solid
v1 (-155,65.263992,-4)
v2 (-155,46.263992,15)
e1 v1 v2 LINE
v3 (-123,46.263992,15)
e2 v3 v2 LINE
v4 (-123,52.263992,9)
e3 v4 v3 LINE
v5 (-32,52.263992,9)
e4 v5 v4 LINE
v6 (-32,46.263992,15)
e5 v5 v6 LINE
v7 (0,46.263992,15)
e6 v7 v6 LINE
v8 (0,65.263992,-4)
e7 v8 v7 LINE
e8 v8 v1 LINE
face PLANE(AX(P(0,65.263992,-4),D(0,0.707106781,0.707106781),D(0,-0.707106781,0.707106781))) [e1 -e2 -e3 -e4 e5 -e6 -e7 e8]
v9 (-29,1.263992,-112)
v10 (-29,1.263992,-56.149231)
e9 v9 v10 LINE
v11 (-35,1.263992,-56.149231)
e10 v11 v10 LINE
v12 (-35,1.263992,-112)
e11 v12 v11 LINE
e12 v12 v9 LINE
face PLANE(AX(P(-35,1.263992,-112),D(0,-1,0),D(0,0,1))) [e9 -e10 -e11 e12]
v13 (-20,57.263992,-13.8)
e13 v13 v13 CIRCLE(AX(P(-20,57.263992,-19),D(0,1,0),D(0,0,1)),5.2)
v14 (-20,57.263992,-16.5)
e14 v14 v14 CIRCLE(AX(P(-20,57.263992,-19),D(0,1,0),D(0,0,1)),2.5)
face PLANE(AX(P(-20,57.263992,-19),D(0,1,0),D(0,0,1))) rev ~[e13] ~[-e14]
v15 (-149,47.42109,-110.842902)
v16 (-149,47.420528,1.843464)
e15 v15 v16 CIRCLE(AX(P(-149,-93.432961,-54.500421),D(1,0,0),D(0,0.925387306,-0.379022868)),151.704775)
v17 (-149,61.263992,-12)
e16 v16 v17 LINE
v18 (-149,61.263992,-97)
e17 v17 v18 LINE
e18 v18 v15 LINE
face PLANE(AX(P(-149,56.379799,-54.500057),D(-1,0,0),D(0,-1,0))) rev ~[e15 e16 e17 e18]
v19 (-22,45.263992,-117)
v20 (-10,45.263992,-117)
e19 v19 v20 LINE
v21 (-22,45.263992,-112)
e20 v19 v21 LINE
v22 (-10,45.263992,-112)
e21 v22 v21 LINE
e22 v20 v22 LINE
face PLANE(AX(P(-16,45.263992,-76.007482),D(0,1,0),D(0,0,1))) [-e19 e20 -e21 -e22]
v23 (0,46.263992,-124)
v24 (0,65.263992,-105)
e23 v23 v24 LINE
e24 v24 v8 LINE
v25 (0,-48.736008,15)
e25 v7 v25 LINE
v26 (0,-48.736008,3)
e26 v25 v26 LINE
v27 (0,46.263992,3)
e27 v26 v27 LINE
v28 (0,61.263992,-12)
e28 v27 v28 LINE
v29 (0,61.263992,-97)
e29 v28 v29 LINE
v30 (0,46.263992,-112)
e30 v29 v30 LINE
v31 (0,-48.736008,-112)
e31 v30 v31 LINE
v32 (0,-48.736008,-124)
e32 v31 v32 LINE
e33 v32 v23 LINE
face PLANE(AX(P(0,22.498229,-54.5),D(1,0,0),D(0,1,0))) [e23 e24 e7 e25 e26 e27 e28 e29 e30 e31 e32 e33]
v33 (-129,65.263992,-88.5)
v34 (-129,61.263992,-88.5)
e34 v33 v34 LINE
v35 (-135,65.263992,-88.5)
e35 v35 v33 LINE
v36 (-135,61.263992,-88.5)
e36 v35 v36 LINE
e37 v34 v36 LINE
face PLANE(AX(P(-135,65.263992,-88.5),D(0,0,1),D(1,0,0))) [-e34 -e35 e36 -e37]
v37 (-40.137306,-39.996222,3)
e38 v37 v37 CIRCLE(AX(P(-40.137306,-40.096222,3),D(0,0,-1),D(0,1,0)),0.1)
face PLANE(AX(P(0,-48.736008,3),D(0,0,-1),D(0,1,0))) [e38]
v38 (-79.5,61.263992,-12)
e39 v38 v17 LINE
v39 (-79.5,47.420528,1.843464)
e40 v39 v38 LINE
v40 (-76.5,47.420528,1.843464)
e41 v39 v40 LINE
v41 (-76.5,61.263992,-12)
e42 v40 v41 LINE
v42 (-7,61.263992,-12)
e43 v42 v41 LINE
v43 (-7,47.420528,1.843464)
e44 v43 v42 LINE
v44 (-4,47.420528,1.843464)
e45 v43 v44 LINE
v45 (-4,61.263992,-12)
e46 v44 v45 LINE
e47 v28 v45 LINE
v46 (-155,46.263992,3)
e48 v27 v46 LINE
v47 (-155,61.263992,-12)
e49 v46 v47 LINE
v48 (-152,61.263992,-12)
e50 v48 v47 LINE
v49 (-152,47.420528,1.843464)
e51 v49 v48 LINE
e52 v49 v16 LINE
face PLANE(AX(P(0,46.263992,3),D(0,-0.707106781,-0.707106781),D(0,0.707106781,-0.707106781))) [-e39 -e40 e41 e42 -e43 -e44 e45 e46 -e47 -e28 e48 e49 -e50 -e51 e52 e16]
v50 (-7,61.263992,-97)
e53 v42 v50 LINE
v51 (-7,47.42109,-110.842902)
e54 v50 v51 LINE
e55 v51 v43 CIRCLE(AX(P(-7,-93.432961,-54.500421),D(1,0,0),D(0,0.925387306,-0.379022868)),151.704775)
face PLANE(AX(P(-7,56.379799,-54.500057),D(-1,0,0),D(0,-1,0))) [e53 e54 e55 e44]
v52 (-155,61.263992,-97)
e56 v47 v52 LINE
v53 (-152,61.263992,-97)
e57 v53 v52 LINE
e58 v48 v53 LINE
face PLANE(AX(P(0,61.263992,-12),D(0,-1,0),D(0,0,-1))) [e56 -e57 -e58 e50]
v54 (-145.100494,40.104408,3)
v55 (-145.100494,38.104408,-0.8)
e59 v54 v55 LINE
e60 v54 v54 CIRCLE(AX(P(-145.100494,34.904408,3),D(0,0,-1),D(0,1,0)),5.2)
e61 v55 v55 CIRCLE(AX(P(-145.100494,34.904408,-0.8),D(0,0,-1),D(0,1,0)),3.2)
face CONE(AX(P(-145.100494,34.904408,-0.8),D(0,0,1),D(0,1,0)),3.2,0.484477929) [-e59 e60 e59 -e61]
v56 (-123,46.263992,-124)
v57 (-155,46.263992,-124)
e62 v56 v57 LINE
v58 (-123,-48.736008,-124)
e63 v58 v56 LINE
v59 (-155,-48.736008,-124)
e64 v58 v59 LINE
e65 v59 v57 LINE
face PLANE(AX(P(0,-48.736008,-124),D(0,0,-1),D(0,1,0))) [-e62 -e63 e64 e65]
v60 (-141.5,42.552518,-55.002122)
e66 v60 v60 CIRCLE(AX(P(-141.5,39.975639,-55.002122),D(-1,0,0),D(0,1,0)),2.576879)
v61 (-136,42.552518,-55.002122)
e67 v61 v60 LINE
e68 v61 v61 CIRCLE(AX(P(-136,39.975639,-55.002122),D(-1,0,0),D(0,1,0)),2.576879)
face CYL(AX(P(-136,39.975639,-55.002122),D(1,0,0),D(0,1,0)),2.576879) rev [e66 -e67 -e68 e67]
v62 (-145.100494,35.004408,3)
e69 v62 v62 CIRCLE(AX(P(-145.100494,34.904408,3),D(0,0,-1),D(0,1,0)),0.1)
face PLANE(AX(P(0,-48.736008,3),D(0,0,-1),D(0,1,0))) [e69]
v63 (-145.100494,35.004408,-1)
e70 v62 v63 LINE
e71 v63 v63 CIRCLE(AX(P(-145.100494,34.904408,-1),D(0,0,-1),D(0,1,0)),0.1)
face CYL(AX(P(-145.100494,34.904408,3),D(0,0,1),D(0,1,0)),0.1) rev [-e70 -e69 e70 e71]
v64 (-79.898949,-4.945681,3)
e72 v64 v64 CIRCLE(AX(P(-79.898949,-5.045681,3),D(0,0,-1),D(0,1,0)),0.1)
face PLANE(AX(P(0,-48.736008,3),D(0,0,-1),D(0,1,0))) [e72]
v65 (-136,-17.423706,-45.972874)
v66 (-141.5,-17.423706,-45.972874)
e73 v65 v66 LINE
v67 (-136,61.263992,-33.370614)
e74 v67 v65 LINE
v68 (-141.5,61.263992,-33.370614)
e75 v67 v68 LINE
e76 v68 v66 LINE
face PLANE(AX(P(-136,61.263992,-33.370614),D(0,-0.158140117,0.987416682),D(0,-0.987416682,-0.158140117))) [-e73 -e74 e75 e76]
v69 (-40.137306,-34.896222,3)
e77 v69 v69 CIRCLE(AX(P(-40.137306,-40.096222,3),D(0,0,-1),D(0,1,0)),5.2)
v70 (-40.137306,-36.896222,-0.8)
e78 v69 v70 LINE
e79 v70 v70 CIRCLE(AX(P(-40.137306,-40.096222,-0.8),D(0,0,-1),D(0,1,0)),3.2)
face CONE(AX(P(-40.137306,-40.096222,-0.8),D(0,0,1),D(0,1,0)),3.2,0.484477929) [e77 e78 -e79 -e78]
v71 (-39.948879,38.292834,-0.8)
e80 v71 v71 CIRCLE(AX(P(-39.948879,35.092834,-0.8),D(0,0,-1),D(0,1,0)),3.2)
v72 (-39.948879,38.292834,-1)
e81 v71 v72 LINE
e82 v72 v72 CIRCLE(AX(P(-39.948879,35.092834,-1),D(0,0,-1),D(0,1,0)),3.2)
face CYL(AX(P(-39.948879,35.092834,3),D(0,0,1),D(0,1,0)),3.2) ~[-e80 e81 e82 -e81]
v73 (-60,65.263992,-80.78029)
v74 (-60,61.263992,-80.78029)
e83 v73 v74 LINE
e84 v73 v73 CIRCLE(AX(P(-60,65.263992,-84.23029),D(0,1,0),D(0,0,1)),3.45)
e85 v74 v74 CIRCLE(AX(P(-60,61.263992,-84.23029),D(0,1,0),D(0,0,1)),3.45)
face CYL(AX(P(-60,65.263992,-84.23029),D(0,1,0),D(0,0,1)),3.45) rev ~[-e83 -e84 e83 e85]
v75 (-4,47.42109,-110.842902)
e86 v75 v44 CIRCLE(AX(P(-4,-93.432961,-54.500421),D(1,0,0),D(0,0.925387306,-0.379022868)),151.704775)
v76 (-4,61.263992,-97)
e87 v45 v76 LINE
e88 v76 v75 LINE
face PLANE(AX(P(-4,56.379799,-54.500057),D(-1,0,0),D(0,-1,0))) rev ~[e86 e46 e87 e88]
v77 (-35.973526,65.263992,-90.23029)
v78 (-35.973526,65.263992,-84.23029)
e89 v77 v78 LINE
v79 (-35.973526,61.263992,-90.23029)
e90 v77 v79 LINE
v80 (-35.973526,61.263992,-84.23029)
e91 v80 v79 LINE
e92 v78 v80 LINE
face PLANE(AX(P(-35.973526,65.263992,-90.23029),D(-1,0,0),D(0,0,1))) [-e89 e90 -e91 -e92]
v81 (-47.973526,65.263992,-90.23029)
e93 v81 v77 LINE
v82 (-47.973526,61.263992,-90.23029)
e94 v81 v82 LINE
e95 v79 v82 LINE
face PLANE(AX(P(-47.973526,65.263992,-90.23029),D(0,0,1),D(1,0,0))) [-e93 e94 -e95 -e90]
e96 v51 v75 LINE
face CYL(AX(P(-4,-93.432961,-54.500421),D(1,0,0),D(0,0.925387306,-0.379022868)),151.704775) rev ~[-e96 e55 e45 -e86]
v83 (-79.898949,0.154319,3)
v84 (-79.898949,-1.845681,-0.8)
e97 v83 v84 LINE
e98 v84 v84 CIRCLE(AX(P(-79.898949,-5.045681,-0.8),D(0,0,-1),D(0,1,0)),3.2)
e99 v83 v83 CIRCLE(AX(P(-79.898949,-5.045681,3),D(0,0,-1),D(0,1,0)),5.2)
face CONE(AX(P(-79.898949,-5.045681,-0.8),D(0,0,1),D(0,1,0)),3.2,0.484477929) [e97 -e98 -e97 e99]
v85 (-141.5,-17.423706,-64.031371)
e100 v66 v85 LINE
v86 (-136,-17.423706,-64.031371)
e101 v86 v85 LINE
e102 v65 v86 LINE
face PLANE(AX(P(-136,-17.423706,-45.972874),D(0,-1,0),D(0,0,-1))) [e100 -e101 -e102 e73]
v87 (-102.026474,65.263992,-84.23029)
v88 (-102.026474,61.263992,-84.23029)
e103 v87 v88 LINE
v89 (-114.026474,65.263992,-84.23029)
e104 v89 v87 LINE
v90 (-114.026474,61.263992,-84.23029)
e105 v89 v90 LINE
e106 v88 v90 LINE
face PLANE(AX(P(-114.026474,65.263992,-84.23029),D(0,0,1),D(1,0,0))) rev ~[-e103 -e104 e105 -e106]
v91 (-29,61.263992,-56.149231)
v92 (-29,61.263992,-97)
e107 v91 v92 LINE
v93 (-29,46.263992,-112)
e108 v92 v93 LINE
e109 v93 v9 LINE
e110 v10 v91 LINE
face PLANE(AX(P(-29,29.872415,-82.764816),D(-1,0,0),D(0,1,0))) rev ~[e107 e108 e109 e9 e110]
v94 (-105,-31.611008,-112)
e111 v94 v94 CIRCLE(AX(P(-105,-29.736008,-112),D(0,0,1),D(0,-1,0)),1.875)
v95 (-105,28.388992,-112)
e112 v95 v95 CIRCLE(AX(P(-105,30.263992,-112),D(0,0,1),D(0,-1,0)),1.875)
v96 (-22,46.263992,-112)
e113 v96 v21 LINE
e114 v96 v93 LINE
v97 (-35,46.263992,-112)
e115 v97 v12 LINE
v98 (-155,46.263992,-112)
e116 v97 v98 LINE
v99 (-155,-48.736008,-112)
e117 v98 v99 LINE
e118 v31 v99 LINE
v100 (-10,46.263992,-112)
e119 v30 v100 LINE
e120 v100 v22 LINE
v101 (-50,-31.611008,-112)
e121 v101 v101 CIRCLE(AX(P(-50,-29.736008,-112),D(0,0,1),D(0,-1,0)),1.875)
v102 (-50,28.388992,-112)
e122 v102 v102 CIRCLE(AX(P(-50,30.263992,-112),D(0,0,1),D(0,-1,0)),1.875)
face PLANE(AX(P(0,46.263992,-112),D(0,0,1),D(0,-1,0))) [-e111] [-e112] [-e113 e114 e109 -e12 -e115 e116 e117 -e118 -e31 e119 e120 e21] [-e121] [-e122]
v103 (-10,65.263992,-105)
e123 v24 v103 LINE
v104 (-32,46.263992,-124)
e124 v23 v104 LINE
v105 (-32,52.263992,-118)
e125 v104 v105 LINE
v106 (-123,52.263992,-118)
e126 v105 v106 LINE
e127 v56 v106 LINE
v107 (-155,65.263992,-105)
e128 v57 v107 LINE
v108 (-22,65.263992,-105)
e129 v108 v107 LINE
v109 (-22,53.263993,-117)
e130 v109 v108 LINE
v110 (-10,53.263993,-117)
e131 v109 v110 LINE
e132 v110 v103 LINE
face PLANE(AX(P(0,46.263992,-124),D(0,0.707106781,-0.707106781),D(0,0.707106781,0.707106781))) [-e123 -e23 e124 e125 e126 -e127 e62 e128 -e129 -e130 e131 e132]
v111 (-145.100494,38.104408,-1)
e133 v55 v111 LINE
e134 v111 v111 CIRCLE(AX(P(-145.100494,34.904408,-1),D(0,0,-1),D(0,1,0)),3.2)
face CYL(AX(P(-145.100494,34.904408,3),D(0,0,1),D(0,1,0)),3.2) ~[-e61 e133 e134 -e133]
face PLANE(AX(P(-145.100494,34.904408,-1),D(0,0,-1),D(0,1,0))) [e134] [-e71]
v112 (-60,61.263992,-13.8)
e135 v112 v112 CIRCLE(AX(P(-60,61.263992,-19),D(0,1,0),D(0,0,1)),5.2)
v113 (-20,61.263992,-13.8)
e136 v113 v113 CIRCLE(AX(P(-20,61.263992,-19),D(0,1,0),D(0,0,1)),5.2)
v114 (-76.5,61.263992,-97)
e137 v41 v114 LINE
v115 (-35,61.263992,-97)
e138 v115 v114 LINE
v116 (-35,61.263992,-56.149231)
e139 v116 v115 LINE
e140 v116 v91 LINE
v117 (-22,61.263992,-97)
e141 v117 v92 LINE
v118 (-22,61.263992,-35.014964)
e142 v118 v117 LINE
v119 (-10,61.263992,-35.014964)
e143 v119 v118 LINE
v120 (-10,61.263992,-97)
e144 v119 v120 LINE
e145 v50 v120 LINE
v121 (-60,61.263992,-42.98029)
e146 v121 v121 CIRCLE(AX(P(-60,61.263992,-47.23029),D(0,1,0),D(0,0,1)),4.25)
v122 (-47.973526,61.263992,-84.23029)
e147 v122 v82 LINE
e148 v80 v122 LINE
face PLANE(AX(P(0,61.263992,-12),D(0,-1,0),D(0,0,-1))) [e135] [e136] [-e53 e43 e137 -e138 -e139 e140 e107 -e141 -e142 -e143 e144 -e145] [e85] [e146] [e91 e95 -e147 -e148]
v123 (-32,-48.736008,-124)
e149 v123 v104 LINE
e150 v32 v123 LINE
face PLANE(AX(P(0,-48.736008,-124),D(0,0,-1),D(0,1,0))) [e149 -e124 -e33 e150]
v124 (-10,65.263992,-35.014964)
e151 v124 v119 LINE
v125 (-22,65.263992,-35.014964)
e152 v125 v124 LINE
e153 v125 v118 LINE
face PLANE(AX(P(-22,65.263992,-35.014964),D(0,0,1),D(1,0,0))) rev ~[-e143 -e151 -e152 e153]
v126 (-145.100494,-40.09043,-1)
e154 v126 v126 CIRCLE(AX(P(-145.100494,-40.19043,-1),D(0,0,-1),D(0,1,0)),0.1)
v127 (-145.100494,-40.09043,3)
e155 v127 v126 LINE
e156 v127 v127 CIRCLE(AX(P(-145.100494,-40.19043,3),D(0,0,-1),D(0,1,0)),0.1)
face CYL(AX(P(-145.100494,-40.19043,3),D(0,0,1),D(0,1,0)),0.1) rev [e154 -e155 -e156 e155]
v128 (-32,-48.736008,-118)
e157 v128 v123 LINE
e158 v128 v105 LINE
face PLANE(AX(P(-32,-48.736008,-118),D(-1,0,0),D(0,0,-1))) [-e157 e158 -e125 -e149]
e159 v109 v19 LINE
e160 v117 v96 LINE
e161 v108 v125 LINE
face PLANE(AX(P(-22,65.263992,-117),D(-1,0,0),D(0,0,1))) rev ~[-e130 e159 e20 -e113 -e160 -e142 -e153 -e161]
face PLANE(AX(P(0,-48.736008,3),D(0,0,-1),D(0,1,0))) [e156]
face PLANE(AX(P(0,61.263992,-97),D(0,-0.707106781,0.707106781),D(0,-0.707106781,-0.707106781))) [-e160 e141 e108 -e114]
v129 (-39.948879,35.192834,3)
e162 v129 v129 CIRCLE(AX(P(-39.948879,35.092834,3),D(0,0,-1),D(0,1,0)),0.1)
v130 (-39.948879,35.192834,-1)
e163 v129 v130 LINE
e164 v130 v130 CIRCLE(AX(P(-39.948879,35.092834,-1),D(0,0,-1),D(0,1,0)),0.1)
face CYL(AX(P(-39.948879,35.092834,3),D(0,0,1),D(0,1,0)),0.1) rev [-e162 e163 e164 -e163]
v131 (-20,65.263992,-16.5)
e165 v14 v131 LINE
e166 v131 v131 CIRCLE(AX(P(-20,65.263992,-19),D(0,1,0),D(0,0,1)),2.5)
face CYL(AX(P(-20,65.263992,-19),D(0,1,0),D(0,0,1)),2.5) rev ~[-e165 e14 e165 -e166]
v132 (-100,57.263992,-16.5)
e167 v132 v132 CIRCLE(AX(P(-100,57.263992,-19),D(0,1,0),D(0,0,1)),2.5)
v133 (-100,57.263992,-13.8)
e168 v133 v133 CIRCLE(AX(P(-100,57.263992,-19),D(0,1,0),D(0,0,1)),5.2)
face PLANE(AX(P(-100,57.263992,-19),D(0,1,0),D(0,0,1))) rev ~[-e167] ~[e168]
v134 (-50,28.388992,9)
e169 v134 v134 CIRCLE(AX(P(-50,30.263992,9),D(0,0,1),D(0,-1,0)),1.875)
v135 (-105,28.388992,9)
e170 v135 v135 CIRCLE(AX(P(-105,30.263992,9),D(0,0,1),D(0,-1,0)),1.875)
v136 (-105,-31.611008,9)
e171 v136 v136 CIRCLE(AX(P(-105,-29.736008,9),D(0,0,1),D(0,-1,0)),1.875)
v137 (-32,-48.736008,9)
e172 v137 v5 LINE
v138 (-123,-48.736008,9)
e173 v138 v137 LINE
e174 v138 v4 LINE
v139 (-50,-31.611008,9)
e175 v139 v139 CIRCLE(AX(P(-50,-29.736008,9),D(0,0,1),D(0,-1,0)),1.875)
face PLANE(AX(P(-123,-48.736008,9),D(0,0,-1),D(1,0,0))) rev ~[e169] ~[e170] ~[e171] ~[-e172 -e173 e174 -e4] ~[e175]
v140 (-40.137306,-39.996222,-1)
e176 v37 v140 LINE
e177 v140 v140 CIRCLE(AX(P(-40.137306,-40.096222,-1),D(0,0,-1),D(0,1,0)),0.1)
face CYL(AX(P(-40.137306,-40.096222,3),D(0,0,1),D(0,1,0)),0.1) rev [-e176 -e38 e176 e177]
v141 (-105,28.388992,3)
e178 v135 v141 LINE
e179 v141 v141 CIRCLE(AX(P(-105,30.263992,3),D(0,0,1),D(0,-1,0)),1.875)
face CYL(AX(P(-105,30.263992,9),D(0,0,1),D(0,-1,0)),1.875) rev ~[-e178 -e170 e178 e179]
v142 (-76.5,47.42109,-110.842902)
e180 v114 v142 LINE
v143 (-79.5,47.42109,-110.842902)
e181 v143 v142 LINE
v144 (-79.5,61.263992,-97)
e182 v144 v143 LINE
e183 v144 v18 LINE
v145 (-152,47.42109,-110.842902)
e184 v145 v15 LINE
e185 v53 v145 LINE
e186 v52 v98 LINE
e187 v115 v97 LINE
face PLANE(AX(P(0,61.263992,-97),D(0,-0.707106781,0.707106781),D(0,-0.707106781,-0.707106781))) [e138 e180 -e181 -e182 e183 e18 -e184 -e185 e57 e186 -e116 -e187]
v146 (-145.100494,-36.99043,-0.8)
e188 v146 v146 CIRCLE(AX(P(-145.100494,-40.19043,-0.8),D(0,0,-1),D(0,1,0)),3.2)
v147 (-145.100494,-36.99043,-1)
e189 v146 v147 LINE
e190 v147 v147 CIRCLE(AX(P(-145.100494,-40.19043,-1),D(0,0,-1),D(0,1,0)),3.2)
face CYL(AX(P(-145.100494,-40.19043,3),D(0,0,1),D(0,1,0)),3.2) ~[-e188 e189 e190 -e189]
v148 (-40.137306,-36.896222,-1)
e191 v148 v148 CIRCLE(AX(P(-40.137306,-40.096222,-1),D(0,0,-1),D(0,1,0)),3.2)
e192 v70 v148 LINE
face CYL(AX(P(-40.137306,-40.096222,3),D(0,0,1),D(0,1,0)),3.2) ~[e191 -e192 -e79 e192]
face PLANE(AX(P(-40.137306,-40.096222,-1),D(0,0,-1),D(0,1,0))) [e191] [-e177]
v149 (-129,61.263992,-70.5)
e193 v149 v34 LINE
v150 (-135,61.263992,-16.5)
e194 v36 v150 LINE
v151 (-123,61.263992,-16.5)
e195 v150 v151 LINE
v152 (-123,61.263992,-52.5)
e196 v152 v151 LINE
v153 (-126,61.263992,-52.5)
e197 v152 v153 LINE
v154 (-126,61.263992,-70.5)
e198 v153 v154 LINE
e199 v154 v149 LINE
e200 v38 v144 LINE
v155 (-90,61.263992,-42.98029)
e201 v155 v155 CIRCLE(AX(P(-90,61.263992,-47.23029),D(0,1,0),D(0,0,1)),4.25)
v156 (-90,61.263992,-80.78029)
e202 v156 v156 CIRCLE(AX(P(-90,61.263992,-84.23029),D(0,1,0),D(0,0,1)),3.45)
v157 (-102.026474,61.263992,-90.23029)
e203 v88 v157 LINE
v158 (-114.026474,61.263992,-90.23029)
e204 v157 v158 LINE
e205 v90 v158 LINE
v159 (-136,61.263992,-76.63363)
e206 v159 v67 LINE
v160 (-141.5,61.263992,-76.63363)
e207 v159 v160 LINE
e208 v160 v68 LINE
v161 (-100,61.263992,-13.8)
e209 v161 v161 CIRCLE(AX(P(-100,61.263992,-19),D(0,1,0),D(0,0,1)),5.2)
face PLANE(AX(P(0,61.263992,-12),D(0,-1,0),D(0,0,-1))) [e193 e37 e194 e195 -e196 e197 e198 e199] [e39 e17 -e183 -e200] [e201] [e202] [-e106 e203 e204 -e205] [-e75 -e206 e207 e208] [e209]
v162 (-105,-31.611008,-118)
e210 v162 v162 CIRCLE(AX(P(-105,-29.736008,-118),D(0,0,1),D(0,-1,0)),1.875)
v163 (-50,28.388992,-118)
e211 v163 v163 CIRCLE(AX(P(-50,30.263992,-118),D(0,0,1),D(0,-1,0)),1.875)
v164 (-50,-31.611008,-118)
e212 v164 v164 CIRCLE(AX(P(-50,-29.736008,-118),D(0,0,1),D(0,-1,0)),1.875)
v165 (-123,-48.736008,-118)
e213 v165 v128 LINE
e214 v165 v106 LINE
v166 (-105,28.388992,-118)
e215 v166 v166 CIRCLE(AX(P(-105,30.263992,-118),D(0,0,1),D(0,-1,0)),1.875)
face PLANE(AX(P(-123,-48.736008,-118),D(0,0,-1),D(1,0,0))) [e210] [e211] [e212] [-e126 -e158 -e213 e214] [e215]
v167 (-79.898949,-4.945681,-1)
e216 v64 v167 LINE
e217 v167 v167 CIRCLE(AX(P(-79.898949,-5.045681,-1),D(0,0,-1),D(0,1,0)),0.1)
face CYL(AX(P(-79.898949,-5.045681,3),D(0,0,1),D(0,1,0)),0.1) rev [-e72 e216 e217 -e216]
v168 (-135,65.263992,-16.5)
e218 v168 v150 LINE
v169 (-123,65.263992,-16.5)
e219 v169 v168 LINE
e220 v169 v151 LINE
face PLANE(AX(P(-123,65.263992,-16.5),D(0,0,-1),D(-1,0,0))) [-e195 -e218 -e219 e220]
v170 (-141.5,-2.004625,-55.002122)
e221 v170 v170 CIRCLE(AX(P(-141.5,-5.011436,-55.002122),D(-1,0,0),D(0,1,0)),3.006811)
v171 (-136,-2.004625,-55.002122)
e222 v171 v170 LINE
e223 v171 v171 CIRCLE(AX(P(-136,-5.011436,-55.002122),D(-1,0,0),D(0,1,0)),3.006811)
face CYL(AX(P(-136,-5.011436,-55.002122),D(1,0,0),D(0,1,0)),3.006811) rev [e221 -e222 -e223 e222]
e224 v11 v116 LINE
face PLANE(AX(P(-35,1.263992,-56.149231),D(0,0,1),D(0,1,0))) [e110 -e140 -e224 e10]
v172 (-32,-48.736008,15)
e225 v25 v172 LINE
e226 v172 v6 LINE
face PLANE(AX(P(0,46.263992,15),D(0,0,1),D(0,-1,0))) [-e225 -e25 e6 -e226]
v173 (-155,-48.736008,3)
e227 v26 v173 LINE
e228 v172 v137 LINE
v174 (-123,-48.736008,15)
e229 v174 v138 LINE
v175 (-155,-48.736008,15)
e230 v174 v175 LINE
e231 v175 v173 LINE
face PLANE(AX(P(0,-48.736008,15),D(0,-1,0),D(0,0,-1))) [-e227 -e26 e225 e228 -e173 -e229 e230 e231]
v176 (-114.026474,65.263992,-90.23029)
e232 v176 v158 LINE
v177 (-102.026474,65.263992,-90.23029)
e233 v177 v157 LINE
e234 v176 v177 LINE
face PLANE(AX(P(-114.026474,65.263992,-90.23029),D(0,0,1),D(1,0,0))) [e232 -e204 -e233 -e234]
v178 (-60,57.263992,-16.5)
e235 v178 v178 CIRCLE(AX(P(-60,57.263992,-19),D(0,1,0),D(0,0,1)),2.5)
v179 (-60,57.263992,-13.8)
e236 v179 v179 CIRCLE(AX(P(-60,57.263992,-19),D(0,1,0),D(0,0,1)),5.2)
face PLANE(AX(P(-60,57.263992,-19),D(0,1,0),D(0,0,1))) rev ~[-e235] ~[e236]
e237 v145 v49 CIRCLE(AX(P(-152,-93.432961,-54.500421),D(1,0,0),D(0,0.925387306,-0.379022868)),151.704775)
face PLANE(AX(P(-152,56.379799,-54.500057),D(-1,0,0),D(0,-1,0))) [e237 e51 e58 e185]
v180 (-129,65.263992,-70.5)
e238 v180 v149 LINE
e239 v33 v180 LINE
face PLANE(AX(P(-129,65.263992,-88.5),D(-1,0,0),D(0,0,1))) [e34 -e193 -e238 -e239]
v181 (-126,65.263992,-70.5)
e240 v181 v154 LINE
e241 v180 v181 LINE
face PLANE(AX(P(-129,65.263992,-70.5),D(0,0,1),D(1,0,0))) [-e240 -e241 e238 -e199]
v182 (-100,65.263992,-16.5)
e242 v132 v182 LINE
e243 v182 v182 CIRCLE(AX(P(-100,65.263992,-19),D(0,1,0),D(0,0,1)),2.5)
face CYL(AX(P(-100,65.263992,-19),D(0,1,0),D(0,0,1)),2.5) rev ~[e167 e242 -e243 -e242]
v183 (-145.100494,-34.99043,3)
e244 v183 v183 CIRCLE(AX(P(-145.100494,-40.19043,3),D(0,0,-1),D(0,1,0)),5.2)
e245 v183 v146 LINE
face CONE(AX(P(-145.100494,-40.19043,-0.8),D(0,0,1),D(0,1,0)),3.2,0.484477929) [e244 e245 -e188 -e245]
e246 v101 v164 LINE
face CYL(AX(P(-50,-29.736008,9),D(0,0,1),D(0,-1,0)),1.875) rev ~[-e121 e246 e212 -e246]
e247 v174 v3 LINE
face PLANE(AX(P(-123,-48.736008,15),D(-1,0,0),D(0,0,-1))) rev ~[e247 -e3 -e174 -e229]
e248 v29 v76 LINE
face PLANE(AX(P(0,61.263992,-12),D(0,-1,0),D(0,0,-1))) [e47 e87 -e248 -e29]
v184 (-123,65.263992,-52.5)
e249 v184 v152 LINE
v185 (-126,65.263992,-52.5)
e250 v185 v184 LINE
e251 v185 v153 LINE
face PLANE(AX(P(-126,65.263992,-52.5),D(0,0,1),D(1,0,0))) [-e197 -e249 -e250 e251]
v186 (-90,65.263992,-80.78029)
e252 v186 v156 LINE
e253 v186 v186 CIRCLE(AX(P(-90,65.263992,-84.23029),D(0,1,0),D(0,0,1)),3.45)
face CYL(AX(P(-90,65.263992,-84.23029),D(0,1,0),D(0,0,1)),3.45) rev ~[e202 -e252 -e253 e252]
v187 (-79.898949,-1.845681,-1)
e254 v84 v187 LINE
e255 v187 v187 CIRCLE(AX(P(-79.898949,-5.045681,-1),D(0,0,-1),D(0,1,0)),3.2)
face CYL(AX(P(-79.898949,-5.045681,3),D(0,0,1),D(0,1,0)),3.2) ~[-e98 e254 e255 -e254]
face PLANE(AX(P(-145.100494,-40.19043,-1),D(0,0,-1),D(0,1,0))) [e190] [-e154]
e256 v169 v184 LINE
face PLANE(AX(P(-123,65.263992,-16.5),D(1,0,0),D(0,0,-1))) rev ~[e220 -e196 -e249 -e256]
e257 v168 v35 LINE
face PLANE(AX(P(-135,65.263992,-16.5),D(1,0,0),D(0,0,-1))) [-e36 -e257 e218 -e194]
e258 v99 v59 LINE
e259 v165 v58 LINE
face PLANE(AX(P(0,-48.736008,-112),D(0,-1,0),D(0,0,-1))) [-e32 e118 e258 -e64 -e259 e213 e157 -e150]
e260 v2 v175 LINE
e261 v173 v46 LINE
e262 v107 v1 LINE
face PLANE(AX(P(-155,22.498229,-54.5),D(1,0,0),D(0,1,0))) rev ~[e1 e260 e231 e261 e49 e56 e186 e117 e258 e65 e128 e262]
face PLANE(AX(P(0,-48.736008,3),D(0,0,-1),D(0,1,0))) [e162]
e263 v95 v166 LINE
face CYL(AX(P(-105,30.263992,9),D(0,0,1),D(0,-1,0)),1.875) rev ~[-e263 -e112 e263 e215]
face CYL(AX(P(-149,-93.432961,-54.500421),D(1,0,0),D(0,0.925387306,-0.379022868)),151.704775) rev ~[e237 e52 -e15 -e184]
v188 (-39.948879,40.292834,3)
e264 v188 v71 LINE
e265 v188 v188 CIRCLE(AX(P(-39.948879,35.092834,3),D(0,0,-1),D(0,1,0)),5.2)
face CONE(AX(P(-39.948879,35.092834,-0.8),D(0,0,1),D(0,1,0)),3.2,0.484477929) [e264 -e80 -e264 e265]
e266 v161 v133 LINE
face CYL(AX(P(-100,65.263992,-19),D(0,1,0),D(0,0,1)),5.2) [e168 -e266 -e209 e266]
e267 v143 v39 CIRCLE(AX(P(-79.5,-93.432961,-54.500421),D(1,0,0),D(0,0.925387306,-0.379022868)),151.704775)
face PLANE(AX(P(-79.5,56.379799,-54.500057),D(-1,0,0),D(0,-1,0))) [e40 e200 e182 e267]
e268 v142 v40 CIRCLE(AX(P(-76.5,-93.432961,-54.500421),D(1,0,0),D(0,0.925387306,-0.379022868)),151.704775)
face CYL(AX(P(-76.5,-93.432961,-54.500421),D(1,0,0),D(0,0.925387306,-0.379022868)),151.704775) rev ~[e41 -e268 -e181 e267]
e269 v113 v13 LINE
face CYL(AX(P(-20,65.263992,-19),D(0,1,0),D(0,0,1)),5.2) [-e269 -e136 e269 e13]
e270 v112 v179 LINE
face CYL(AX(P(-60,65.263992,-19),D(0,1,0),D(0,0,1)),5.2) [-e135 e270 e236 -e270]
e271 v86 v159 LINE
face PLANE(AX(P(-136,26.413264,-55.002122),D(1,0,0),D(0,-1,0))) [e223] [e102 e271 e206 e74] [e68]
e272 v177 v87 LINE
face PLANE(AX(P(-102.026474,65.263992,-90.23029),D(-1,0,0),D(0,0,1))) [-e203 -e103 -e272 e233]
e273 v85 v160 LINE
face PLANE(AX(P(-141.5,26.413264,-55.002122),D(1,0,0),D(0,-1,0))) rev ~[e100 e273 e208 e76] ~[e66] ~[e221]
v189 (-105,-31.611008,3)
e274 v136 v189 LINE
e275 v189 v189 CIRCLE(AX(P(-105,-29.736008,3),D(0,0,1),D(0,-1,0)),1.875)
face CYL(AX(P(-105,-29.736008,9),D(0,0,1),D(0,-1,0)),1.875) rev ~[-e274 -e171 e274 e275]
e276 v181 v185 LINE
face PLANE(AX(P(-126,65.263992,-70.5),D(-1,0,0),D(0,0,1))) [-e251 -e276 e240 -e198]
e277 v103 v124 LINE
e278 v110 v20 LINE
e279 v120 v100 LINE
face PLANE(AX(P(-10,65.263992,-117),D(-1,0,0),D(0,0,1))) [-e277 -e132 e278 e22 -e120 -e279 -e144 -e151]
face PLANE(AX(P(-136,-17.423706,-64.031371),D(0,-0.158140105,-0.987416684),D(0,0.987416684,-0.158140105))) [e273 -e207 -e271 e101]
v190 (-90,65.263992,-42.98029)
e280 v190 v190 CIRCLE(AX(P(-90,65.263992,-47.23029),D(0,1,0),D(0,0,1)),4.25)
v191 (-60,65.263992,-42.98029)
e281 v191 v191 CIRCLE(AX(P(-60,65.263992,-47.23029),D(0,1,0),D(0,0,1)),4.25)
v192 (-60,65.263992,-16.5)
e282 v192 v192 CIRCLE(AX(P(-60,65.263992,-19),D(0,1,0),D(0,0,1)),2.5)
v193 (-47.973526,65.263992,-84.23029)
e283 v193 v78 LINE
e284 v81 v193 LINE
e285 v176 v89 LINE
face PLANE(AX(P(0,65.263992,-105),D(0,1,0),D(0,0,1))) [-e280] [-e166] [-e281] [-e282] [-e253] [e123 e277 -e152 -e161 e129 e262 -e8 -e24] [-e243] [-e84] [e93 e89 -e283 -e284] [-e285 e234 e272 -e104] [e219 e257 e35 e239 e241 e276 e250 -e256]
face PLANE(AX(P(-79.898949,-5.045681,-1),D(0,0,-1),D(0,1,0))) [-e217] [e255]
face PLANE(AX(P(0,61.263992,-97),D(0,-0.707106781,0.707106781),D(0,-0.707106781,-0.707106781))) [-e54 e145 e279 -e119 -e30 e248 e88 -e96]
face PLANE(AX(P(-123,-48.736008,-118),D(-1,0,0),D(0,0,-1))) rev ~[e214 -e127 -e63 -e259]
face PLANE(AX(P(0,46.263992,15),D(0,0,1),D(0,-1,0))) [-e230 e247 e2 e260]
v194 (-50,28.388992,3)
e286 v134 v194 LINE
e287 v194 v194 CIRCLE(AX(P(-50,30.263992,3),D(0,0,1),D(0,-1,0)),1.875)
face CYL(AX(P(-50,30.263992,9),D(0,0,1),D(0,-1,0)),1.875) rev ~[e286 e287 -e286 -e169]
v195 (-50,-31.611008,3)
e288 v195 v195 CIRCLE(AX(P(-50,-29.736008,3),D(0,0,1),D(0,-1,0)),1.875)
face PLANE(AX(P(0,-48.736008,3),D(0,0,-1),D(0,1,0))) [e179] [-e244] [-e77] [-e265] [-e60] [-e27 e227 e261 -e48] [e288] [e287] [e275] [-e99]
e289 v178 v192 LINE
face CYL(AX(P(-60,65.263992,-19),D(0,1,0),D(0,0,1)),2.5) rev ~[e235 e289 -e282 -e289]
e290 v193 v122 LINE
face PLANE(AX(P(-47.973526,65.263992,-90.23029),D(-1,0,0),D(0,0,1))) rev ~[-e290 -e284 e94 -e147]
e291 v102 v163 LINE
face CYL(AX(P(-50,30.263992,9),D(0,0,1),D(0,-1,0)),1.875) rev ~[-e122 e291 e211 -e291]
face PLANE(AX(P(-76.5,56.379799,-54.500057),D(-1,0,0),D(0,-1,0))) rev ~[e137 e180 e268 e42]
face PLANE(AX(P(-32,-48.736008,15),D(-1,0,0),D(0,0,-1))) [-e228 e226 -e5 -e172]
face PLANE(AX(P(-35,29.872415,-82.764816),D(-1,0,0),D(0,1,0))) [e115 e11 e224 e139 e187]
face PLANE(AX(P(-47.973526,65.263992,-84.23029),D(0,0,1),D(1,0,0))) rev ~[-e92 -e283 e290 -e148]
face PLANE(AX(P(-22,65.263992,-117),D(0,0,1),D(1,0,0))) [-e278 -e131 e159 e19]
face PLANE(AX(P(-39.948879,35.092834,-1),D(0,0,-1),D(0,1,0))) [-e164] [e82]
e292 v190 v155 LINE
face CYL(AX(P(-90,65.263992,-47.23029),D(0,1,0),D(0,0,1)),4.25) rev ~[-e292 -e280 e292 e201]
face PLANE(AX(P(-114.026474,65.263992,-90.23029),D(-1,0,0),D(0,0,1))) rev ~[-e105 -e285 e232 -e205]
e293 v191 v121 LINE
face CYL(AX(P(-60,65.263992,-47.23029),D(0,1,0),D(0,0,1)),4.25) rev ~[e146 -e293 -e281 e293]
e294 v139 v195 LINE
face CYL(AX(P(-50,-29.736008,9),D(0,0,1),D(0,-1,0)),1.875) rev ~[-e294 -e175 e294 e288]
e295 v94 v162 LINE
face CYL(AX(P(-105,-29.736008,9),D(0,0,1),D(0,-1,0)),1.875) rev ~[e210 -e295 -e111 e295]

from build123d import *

# Parameters (mm, degrees)
PAD_DEPTH           = 155
SKETCH001_R         = 2.5
SKETCH001_R_2       = 4.25
SKETCH001_R_3       = 3.45
SKETCH001_W         = 81.985035
SKETCH001_H         = 12
SKETCH001_W_2       = 6
POCKET_DEPTH        = 20
PAD001_DEPTH        = 6
SKETCH010_R         = 3.006811
SKETCH010_R_2       = 2.576879
PAD007_DEPTH        = 5.5
SKETCH011_W         = 6
SKETCH011_H         = 91
POCKET007_DEPTH     = 200
SKETCH012_R         = 1.875
POCKET008_DEPTH     = 200
SKETCH013_R         = 3.2
SKETCH013_R_2       = 0.1
PAD008_DEPTH        = 4
SKETCH014_R         = 5.2
SKETCH014_R_2       = 2.5
PAD009_DEPTH        = 8
PAD010_DEPTH        = 3
LINEARPATTERN_COUNT = 3
LINEARPATTERN_PITCH = 72.5
CHAMFER_SIZE2       = 3.8
CHAMFER_SIZE        = 2


with BuildPart() as part:
    # Sketch → Pad (new body)
    with BuildSketch(Plane.YZ):
        Polygon((-48.736008, 3), (46.263992, 3), (61.263992, -12), (61.263992, -97), (46.263992, -112), (-48.736008, -112), (-48.736008, -124), (46.263992, -124), (65.263992, -105), (65.263992, -4), (46.263992, 15), (-48.736008, 15), align=None)
    extrude(amount=-PAD_DEPTH)

    # Sketch001 (on Face9 of Pad) → Pocket (cut)
    with BuildSketch(Plane.ZX.offset(65.263992)):
        with Locations((-19, -20)):
            Circle(SKETCH001_R)
        with Locations((-19, -60)):
            Circle(SKETCH001_R)
        with Locations((-19, -100)):
            Circle(SKETCH001_R)
        with Locations((-47.23029, -60)):
            Circle(SKETCH001_R_2)
        with Locations((-47.23029, -90)):
            Circle(SKETCH001_R_2)
        with Locations((-84.23029, -60)):
            Circle(SKETCH001_R_3)
        with Locations((-84.23029, -90)):
            Circle(SKETCH001_R_3)
        with Locations((-76.007482, -16)):
            Rectangle(SKETCH001_W, SKETCH001_H)
        Polygon((-16.5, -123), (-16.5, -135), (-88.5, -135), (-88.5, -129), (-70.5, -129), (-70.5, -126), (-52.5, -126), (-52.5, -123), (-34.5, -123), align=None)
        with Locations((-87.23029, -41.973526)):
            Rectangle(SKETCH001_W_2, SKETCH001_H)
        with Locations((-87.23029, -108.026474)):
            Rectangle(SKETCH001_W_2, SKETCH001_H)
    extrude(amount=-POCKET_DEPTH, mode=Mode.SUBTRACT)

    # Sketch002 (on Face5 of Pocket) → Pad001 (join)
    with BuildSketch(Plane(origin=(-35, 0, 0), x_dir=(0, 1, 0), z_dir=(-1, 0, 0))):
        Polygon((61.263992, 56.149231), (61.263992, 97), (46.263992, 112), (1.263992, 112), (1.263992, 56.149231), align=None)
    extrude(amount=-PAD001_DEPTH)

    # Sketch010 (on Face5 of Pad001) → Pad007 (join)
    with BuildSketch(Plane(origin=(-136, 0, 0), x_dir=(0, 1, 0), z_dir=(-1, 0, 0))):
        Polygon((-17.423706, 64.031371), (61.263992, 76.63363), (61.263992, 33.370614), (-17.423706, 45.972874), align=None)
        with Locations((-5.011436, 55.002122)):
            Circle(SKETCH010_R, mode=Mode.SUBTRACT)
        with Locations((39.975639, 55.002122)):
            Circle(SKETCH010_R_2, mode=Mode.SUBTRACT)
    extrude(amount=PAD007_DEPTH)

    # Sketch011 (on Face2 of Pad007) → Pocket007 (cut)
    with BuildSketch(Plane(origin=(0, -48.736008, 0), x_dir=(0, 0, -1), z_dir=(0, -1, 0))):
        with Locations((-12, -77.5)):
            Rectangle(SKETCH011_W, SKETCH011_H)
        with Locations((121, -77.5)):
            Rectangle(SKETCH011_W, SKETCH011_H)
    extrude(amount=-POCKET007_DEPTH, mode=Mode.SUBTRACT)

    # Sketch012 (on Face8 of Pocket007) → Pocket008 (cut)
    with BuildSketch(Plane(origin=(0, 0, 9), x_dir=(0, -1, 0), z_dir=(0, 0, 1))):
        with Locations((-30.263992, -50)):
            Circle(SKETCH012_R)
        with Locations((29.736008, -50)):
            Circle(SKETCH012_R)
        with Locations((29.736008, -105)):
            Circle(SKETCH012_R)
        with Locations((-30.263992, -105)):
            Circle(SKETCH012_R)
    extrude(amount=-POCKET008_DEPTH, mode=Mode.SUBTRACT)

    # Sketch013 (on DatumPlane) → Pad008 (join)
    with BuildSketch(Plane.YX.offset(-3)):
        with Locations((34.904408, -145.100494)):
            Circle(SKETCH013_R)
        with Locations((34.904408, -145.100494)):
            Circle(SKETCH013_R_2, mode=Mode.SUBTRACT)
        with Locations((35.092834, -39.948879)):
            Circle(SKETCH013_R)
        with Locations((35.092834, -39.948879)):
            Circle(SKETCH013_R_2, mode=Mode.SUBTRACT)
        with Locations((-5.045681, -79.898949)):
            Circle(SKETCH013_R)
        with Locations((-5.045681, -79.898949)):
            Circle(SKETCH013_R_2, mode=Mode.SUBTRACT)
        with Locations((-40.19043, -145.100494)):
            Circle(SKETCH013_R)
        with Locations((-40.19043, -145.100494)):
            Circle(SKETCH013_R_2, mode=Mode.SUBTRACT)
        with Locations((-40.096222, -40.137306)):
            Circle(SKETCH013_R)
        with Locations((-40.096222, -40.137306)):
            Circle(SKETCH013_R_2, mode=Mode.SUBTRACT)
    extrude(amount=PAD008_DEPTH)

    # Sketch014 (on Face26 of Pad008) → Pad009 (join)
    with BuildSketch(Plane.ZX.offset(65.263992)):
        with Locations((-19, -20)):
            Circle(SKETCH014_R)
        with Locations((-19, -20)):
            Circle(SKETCH014_R_2, mode=Mode.SUBTRACT)
        with Locations((-19, -60)):
            Circle(SKETCH014_R)
        with Locations((-19, -60)):
            Circle(SKETCH014_R_2, mode=Mode.SUBTRACT)
        with Locations((-19, -100)):
            Circle(SKETCH014_R)
        with Locations((-19, -100)):
            Circle(SKETCH014_R_2, mode=Mode.SUBTRACT)
    extrude(amount=-PAD009_DEPTH)

    # Sketch015 (on DatumPlane) → Pad010 (join)
    with BuildSketch(Plane.YZ.offset(-4)):
        with BuildLine():
            ThreePointArc((46.952712, -112), (58.271814, -54.499966), (46.952367, 3))
            Line((61.263992, -12), (46.952367, 3))
            Line((61.263992, -12), (61.263992, -97.001692))
            Line((61.263992, -97.001692), (46.952712, -112))
        make_face()
    pad010 = extrude(amount=-PAD010_DEPTH)

    # LinearPattern: Pad010 ×3
    with Locations(*[(-i * LINEARPATTERN_PITCH, 0, 0) for i in range(1, LINEARPATTERN_COUNT)]):
        add(pad010)

    # Chamfer
    chamfer_edges = [part.edges().sort_by_distance(p)[0] for p in [
        (-40.137306, -43.296222, 3),
        (-79.898949, -8.245681, 3),
        (-145.100494, -43.39043, 3),
        (-145.100494, 31.704408, 3),
        (-39.948879, 31.892834, 3),
    ]]
    chamfer_side = part.faces().sort_by_distance((-77.361115, -1.220288, 3))[0]
    chamfer(chamfer_edges, length=CHAMFER_SIZE, length2=CHAMFER_SIZE2, reference=chamfer_side)


solid = part.part
